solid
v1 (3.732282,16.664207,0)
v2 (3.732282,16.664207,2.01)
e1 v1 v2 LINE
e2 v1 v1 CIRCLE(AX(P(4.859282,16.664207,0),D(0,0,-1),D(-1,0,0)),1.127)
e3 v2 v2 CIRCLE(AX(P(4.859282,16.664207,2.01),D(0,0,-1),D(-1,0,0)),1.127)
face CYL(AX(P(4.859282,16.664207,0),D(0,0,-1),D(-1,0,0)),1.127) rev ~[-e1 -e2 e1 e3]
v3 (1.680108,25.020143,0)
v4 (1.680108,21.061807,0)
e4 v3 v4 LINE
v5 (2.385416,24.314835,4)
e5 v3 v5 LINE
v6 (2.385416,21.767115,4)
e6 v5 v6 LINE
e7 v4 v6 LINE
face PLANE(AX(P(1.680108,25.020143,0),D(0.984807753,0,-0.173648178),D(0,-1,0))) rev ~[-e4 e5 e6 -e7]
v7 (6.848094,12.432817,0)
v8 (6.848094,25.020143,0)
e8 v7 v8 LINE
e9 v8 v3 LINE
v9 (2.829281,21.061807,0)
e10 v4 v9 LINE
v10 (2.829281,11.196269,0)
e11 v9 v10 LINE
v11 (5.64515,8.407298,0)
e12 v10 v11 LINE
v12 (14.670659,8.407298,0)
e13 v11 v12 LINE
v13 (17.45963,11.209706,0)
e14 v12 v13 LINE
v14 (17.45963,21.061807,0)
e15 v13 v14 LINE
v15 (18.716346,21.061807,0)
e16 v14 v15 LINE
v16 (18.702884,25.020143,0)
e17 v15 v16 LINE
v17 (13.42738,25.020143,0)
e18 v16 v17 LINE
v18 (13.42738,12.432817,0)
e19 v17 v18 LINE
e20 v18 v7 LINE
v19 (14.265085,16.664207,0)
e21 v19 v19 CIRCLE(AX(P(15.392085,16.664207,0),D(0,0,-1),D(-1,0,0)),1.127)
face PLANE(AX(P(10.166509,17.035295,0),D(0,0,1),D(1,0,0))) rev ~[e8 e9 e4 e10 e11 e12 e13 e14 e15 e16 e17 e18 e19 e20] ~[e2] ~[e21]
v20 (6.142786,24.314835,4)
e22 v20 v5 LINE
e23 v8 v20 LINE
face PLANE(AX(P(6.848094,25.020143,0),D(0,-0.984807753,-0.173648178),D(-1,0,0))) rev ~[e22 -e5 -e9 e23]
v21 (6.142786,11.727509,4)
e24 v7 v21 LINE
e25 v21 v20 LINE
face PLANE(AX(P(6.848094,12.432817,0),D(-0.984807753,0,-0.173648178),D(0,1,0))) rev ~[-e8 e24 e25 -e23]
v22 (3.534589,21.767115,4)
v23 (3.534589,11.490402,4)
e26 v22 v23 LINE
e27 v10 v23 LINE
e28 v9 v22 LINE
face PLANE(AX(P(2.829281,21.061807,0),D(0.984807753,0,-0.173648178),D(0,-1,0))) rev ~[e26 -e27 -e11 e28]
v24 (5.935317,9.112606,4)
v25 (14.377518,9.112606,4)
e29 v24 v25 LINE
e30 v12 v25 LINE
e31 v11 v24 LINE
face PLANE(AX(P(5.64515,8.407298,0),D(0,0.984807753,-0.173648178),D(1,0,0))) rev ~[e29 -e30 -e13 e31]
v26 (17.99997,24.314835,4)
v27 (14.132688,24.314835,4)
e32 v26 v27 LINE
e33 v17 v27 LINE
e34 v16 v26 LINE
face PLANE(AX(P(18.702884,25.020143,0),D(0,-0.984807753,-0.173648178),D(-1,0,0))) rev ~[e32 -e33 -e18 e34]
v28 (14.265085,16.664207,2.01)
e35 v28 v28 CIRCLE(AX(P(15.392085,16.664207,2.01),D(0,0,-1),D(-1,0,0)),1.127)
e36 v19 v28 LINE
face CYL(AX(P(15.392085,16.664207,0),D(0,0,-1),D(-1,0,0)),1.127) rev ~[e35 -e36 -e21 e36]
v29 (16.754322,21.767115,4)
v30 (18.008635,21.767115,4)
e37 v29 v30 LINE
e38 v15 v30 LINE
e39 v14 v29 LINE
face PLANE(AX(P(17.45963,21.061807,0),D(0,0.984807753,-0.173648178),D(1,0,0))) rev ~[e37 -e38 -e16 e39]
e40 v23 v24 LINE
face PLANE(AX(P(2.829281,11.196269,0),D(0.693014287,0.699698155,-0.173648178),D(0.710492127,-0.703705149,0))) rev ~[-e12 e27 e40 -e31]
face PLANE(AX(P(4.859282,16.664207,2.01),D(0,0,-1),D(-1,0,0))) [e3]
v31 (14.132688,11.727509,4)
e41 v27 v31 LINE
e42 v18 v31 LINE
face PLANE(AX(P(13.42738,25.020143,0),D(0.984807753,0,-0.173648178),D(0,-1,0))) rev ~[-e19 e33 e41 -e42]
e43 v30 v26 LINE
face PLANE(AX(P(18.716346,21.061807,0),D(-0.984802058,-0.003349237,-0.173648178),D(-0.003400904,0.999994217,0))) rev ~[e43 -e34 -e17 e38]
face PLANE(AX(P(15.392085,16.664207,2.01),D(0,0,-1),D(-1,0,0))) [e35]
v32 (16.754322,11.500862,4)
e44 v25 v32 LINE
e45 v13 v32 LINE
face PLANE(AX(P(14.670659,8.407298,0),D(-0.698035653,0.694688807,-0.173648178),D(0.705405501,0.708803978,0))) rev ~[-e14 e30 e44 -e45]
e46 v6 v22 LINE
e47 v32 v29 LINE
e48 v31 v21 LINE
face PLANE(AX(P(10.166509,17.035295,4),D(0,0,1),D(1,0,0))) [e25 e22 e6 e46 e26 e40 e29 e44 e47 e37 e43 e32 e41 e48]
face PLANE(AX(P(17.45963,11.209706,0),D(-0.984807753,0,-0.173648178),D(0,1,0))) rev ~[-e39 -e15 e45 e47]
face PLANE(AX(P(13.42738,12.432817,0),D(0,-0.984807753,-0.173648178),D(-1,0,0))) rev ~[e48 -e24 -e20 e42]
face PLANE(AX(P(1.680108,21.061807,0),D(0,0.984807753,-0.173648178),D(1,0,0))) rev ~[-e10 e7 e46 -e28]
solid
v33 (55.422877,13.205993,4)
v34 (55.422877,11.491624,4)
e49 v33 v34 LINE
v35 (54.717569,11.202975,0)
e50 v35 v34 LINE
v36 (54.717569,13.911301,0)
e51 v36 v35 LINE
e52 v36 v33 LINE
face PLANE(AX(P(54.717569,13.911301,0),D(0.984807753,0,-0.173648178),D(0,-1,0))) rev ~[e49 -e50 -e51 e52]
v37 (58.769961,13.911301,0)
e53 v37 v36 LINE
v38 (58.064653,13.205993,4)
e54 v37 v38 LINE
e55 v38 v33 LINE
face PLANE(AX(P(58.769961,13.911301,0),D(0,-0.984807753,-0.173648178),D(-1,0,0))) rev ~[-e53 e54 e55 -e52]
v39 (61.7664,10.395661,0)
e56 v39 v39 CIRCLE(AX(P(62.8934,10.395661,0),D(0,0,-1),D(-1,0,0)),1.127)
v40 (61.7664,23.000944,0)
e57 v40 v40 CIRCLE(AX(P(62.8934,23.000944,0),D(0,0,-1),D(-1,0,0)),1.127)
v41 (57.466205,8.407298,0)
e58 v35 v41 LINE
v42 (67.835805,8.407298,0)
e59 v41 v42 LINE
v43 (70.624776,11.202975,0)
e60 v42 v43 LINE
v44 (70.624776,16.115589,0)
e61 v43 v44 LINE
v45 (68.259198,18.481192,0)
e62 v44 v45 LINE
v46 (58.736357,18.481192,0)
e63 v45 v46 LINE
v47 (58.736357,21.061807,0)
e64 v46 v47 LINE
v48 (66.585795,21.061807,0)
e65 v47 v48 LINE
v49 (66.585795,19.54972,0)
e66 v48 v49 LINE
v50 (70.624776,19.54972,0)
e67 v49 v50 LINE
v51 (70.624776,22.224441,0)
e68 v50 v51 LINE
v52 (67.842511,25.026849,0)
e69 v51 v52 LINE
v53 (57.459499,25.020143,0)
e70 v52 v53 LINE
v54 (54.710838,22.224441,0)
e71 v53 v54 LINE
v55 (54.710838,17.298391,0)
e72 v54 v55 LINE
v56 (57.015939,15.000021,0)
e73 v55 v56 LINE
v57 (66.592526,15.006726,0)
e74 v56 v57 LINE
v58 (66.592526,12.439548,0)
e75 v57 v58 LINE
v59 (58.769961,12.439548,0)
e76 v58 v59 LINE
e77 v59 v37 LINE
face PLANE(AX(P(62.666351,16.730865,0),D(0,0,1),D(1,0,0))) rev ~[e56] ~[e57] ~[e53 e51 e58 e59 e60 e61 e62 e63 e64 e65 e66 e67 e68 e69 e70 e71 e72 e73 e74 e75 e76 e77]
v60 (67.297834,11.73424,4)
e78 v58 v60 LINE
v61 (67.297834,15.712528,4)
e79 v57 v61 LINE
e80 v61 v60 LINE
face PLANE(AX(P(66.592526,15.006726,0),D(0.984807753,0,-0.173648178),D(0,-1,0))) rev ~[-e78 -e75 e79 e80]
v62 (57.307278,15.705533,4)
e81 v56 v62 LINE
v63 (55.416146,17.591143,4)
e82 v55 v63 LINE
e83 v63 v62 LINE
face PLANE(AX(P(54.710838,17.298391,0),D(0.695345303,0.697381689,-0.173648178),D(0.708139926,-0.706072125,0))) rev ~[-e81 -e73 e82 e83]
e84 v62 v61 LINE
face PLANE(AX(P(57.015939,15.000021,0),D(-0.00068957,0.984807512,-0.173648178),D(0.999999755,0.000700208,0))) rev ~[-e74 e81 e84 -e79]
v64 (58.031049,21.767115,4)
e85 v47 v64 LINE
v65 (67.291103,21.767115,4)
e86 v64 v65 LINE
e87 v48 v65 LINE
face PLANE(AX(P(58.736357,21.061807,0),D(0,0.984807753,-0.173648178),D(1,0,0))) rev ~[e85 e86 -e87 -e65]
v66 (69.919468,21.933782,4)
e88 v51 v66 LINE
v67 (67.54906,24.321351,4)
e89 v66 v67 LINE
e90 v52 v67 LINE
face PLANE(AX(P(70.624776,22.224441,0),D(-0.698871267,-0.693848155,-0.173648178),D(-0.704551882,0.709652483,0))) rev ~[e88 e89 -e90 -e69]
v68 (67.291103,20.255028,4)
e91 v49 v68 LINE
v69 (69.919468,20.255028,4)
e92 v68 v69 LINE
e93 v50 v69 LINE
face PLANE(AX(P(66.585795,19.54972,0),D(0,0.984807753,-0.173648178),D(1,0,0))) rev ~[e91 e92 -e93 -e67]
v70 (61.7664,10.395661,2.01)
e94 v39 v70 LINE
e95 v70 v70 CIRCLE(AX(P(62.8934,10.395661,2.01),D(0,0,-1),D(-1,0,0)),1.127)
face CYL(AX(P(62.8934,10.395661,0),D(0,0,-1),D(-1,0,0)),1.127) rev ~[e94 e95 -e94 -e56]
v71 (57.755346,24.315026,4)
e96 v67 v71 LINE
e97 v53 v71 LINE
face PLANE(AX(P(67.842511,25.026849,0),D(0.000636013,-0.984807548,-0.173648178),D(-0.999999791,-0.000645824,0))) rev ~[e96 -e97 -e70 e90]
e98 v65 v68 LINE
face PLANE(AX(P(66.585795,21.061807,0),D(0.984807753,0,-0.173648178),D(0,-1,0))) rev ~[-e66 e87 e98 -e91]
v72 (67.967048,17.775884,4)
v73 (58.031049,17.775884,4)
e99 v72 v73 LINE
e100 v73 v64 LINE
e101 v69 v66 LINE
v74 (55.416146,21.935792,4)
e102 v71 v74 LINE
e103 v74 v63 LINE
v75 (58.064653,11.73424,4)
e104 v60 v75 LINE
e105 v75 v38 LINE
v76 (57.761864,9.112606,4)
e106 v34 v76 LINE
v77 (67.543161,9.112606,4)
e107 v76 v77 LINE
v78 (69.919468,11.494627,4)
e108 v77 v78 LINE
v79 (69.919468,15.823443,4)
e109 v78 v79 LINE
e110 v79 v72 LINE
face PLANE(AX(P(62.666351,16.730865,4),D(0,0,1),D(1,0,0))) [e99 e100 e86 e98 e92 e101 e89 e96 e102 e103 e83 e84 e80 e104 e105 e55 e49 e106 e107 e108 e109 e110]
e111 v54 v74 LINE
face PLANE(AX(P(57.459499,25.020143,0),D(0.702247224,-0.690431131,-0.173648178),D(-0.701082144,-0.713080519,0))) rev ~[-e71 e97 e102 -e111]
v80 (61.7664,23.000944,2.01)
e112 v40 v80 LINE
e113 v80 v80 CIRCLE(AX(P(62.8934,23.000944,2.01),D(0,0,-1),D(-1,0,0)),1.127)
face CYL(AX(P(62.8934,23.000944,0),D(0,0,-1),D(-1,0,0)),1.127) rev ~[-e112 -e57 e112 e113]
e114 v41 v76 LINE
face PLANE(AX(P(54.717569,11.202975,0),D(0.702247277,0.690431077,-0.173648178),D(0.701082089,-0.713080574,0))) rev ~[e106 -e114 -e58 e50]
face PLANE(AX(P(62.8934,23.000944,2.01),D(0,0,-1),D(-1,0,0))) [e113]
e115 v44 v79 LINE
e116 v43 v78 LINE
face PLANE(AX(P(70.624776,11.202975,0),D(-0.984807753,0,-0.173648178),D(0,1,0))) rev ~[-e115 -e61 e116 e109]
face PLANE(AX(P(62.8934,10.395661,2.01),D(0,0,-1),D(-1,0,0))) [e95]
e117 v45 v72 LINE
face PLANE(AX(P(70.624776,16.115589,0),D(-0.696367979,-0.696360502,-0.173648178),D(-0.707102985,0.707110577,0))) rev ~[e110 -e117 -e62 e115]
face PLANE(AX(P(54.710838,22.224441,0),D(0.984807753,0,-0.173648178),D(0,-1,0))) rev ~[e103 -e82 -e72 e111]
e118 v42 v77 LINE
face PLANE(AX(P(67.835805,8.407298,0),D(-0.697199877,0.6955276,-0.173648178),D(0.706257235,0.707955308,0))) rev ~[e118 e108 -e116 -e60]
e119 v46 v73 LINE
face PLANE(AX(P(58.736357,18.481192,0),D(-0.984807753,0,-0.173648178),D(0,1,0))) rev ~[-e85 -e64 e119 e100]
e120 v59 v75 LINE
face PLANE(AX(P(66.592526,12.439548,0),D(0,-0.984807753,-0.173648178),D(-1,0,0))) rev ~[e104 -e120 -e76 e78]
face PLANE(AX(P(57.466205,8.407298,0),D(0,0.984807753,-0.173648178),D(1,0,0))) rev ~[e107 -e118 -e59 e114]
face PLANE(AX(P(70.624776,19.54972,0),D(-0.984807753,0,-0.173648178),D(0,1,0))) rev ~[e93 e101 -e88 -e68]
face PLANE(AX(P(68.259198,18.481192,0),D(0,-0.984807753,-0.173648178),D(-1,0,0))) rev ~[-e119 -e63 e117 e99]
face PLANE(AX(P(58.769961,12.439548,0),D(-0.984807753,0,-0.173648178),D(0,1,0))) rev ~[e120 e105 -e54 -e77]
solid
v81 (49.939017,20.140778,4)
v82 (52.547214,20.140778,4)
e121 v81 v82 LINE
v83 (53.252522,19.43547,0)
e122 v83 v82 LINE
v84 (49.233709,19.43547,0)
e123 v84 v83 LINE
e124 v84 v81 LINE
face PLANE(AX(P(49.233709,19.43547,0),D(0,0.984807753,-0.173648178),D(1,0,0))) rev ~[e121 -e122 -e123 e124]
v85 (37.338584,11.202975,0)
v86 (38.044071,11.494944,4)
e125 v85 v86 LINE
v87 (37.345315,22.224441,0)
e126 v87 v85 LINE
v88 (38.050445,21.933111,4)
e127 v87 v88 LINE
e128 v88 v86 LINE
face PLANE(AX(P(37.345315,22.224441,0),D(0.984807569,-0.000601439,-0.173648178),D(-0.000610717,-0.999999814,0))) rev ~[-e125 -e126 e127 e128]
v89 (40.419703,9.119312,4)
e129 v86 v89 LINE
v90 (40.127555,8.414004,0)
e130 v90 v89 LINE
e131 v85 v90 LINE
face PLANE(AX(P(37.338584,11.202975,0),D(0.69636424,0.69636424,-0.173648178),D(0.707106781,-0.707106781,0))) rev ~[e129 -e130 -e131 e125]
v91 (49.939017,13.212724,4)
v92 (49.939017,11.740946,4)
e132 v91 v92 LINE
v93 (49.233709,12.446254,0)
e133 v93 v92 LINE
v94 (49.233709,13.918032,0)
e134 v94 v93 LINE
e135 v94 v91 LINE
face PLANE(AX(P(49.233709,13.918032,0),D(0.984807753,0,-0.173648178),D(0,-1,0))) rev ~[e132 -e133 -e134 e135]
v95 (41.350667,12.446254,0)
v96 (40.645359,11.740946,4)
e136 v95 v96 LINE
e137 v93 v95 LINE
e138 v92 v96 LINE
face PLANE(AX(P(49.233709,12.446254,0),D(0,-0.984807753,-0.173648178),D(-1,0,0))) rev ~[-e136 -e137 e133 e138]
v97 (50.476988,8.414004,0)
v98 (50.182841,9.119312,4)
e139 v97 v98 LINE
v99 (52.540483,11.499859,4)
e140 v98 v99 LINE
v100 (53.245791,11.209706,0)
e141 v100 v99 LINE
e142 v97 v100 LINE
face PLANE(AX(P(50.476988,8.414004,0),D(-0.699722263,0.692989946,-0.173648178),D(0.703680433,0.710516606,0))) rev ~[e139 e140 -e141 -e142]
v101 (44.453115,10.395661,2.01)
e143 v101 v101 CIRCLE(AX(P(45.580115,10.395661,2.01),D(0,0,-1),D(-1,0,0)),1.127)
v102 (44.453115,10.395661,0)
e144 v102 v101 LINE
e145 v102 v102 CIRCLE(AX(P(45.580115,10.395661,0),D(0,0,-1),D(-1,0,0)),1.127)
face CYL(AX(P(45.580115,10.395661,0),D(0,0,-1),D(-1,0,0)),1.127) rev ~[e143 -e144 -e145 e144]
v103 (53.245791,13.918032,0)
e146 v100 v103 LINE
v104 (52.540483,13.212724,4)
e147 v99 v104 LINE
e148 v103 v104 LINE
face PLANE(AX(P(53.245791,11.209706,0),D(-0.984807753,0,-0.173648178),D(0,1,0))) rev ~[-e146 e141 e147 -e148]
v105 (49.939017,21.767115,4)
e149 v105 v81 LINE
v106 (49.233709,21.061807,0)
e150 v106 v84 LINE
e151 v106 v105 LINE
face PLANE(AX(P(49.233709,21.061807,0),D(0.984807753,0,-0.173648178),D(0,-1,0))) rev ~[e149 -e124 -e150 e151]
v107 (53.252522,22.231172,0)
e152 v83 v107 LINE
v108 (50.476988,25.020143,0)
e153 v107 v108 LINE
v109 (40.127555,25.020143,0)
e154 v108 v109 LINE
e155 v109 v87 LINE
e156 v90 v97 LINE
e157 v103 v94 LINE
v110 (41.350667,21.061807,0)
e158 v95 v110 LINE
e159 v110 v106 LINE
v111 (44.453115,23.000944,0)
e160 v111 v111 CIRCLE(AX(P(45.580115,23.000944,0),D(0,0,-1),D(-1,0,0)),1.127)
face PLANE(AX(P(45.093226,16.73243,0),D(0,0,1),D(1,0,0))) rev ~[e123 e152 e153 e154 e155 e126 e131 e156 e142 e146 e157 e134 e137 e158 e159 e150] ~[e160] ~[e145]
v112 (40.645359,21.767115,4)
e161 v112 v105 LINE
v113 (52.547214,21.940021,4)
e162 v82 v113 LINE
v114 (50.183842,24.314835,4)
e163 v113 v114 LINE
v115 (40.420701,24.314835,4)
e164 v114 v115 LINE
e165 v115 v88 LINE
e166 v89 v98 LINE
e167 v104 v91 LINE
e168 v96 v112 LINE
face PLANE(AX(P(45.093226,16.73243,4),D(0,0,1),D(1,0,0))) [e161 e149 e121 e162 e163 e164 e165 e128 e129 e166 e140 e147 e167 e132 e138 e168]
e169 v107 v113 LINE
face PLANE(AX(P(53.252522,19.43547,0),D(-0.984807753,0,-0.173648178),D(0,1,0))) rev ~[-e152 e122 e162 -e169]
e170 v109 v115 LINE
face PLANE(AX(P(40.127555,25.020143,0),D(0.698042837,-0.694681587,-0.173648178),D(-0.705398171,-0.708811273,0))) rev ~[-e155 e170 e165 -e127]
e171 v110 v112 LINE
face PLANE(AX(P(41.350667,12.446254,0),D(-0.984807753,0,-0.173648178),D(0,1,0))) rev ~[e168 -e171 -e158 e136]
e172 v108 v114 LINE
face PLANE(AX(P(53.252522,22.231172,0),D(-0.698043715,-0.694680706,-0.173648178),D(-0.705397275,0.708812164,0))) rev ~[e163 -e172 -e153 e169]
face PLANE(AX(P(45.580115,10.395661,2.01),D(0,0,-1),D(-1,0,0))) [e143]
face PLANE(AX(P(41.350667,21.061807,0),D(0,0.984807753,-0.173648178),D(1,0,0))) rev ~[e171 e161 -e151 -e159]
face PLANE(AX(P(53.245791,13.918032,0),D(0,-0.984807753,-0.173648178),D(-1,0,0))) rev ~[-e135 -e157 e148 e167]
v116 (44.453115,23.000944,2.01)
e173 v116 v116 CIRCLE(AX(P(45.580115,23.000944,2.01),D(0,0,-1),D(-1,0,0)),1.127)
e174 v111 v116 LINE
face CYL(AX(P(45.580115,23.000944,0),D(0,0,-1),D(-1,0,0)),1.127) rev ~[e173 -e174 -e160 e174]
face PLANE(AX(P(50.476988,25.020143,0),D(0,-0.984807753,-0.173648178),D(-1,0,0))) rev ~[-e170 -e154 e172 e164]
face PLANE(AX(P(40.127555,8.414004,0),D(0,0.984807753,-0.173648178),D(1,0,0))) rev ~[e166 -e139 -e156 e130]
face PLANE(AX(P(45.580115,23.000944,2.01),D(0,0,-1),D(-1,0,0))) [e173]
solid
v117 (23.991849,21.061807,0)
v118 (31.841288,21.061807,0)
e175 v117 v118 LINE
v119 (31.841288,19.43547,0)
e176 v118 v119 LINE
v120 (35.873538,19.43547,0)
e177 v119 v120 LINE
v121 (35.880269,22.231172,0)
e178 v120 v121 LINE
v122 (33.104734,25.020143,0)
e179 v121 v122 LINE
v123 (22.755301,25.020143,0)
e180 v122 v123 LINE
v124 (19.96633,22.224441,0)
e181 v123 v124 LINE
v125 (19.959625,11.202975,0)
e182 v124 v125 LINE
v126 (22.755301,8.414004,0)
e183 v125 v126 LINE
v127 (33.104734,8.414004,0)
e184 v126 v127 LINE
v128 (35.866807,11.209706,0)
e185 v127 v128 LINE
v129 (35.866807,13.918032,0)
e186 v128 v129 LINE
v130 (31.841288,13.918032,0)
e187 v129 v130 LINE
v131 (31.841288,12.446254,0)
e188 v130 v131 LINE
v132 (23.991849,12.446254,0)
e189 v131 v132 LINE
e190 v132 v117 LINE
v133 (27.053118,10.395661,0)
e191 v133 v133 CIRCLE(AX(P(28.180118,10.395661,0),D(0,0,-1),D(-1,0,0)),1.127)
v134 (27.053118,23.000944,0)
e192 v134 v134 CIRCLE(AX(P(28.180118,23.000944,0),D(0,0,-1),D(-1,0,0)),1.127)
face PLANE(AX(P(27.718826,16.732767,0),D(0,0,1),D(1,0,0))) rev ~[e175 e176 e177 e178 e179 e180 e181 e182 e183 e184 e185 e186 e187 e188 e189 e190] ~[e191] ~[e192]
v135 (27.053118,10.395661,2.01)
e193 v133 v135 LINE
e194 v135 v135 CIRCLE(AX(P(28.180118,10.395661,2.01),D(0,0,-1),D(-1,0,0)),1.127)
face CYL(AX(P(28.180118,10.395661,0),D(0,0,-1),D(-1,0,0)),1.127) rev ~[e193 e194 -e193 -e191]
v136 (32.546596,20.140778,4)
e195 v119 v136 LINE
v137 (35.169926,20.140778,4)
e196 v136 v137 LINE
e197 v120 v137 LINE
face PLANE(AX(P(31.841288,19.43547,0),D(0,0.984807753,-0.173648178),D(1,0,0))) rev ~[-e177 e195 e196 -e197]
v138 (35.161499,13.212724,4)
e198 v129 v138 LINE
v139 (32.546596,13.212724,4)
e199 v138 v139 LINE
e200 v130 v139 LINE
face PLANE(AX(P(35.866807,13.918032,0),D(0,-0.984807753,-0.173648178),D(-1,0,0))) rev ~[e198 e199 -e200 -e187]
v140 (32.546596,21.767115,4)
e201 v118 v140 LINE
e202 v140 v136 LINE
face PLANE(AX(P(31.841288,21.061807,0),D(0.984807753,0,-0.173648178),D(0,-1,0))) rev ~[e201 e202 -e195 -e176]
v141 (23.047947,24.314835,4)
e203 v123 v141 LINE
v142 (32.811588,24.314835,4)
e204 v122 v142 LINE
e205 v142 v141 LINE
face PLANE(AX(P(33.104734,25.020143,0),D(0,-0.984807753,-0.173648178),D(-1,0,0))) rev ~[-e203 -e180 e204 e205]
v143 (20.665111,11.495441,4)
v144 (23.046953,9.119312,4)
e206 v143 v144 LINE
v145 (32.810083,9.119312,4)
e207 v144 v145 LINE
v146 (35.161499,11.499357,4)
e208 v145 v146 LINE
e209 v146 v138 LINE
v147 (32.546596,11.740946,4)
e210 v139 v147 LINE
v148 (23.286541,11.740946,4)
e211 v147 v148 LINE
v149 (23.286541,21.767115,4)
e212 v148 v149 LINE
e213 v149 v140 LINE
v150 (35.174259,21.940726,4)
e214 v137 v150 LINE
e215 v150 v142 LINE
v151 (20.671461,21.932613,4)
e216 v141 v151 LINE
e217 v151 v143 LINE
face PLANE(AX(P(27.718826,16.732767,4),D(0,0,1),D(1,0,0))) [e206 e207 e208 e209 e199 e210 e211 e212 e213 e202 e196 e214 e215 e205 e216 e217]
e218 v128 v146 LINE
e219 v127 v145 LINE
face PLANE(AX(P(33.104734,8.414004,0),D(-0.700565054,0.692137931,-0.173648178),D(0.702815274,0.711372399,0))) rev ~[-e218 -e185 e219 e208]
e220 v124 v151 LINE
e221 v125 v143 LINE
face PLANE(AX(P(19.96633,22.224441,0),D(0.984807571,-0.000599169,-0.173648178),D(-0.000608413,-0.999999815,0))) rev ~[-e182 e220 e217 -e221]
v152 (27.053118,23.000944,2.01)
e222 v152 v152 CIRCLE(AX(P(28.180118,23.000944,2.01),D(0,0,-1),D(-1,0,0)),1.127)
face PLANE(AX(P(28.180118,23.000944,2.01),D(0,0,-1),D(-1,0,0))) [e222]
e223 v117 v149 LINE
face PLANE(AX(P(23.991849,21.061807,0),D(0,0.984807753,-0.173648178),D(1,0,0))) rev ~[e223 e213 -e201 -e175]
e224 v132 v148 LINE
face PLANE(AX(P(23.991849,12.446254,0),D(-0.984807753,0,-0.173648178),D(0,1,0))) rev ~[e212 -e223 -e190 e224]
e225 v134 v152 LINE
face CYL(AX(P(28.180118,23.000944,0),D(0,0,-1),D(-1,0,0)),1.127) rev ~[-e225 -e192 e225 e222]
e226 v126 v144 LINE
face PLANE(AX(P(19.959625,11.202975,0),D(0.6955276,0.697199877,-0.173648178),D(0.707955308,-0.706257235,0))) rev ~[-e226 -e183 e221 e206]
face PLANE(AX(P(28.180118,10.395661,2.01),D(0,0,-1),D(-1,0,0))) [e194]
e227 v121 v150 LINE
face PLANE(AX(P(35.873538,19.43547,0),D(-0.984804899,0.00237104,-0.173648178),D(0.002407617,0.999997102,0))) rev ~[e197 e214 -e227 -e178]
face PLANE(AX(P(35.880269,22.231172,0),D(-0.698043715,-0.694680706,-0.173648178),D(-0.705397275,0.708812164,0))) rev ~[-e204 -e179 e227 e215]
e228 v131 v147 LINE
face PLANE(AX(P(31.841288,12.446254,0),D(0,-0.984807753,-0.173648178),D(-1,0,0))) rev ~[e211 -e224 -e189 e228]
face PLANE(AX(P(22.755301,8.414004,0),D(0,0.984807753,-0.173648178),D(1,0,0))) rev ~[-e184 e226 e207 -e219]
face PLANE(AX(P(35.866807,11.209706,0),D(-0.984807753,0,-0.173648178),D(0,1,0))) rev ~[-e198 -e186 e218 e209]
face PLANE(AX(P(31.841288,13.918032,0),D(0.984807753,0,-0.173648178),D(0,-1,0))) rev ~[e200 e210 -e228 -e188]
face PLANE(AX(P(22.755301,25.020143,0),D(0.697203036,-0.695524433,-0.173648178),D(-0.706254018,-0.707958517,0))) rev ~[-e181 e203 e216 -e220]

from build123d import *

# Parameters (mm, degrees)
BOSS_EXTRUDE1_DEPTH           = 4
BOSS_EXTRUDE1_DRAFT           = 10
BOSS_EXTRUDE1_PROFILE_2_DEPTH = 4
BOSS_EXTRUDE1_PROFILE_2_DRAFT = 10
BOSS_EXTRUDE1_PROFILE_3_DEPTH = 4
BOSS_EXTRUDE1_PROFILE_3_DRAFT = 10
BOSS_EXTRUDE1_PROFILE_4_DEPTH = 4
BOSS_EXTRUDE1_PROFILE_4_DRAFT = 10
SKETCH5_R                     = 1.127
CUT_EXTRUDE1_DEPTH            = 2.01


with BuildPart() as part:
    # Sketch2 → Boss-Extrude1 (with draft: the straight prism first)
    with BuildSketch(Plane.XY):
        Polygon((67.842511, 25.0268486), (57.459499, 25.020143), (54.710838, 22.2244412), (54.710838, 17.2983906), (57.0159388, 15.0000208), (66.5925262, 15.0067264), (66.5925262, 12.4395484), (58.7699612, 12.4395484), (58.7699612, 13.9113006), (54.717569, 13.9113006), (54.717569, 11.2029748), (57.4662046, 8.4072984), (67.8358054, 8.4072984), (70.6247762, 11.2029748), (70.6247762, 16.1155888), (68.259198, 18.4811924), (58.736357, 18.4811924), (58.736357, 21.061807), (66.5857952, 21.061807), (66.5857952, 19.5497196), (70.6247762, 19.5497196), (70.6247762, 22.2244412), align=None)
    extrude(amount=BOSS_EXTRUDE1_DEPTH)
    # Boss-Extrude1: the draft: its side faces are tilted about the plane it starts from
    boss_extrude1_sides = [part.faces().sort_by_distance(p)[0] for p in [
        (62.651005, 25.0234958, 2),
        (56.0851685, 23.6222921, 2),
        (54.710838, 19.7614159, 2),
        (55.8633884, 16.1492057, 2),
        (61.8042325, 15.0033736, 2),
        (66.5925262, 13.7231374, 2),
        (62.6812437, 12.4395484, 2),
        (58.7699612, 13.1754245, 2),
        (56.7437651, 13.9113006, 2),
        (54.717569, 12.5571377, 2),
        (56.0918868, 9.8051366, 2),
        (62.651005, 8.4072984, 2),
        (69.2302908, 9.8051366, 2),
        (70.6247762, 13.6592818, 2),
        (69.4419871, 17.2983906, 2),
        (63.4977775, 18.4811924, 2),
        (58.736357, 19.7714997, 2),
        (62.6610761, 21.061807, 2),
        (66.5857952, 20.3057633, 2),
        (68.6052857, 19.5497196, 2),
        (70.6247762, 20.8870804, 2),
        (69.2336436, 23.6256449, 2),
    ]]
    draft(boss_extrude1_sides, Plane.XY, BOSS_EXTRUDE1_DRAFT)


with BuildPart() as body_2:
    # Sketch2 → Boss-Extrude1 profile 2 (with draft: the straight prism first)
    with BuildSketch(Plane.XY):
        Polygon((50.4769882, 25.020143), (40.127555, 25.020143), (37.3453152, 22.2244412), (37.3385842, 11.2029748), (40.127555, 8.414004), (50.4769882, 8.414004), (53.2457914, 11.2097058), (53.2457914, 13.9180316), (49.233709, 13.9180316), (49.233709, 12.446254), (41.3506666, 12.446254), (41.3506666, 21.061807), (49.233709, 21.061807), (49.233709, 19.4354704), (53.2525224, 19.4354704), (53.2525224, 22.2311722), align=None)
    extrude(amount=BOSS_EXTRUDE1_PROFILE_2_DEPTH)
    # Boss-Extrude1 profile 2: the draft: its side faces are tilted about the plane it starts from
    boss_extrude1_profile_2_sides = [body_2.faces().sort_by_distance(p)[0] for p in [
        (45.3022716, 25.020143, 2),
        (38.7364351, 23.6222921, 2),
        (37.3419497, 16.713708, 2),
        (38.7330696, 9.8084894, 2),
        (45.3022716, 8.414004, 2),
        (51.8613898, 9.8118549, 2),
        (53.2457914, 12.5638687, 2),
        (51.2397502, 13.9180316, 2),
        (49.233709, 13.1821428, 2),
        (45.2921878, 12.446254, 2),
        (41.3506666, 16.7540305, 2),
        (45.2921878, 21.061807, 2),
        (49.233709, 20.2486387, 2),
        (51.2431157, 19.4354704, 2),
        (53.2525224, 20.8333213, 2),
        (51.8647553, 23.6256576, 2),
    ]]
    draft(boss_extrude1_profile_2_sides, Plane.XY, BOSS_EXTRUDE1_PROFILE_2_DRAFT)


with BuildPart() as body_3:
    # Sketch2 → Boss-Extrude1 profile 3 (with draft: the straight prism first)
    with BuildSketch(Plane.XY):
        Polygon((33.1047344, 25.020143), (22.7553012, 25.020143), (19.9663304, 22.2244412), (19.9596248, 11.2029748), (22.7553012, 8.414004), (33.1047344, 8.414004), (35.8668066, 11.2097058), (35.8668066, 13.9180316), (31.8412876, 13.9180316), (31.8412876, 12.446254), (23.9918494, 12.446254), (23.9918494, 21.061807), (31.8412876, 21.061807), (31.8412876, 19.4354704), (35.8735376, 19.4354704), (35.8802686, 22.2311722), align=None)
    extrude(amount=BOSS_EXTRUDE1_PROFILE_3_DEPTH)
    # Boss-Extrude1 profile 3: the draft: its side faces are tilted about the plane it starts from
    boss_extrude1_profile_3_sides = [body_3.faces().sort_by_distance(p)[0] for p in [
        (27.9300178, 25.020143, 2),
        (21.3608158, 23.6222921, 2),
        (19.9629776, 16.713708, 2),
        (21.357463, 9.8084894, 2),
        (27.9300178, 8.414004, 2),
        (34.4857705, 9.8118549, 2),
        (35.8668066, 12.5638687, 2),
        (33.8540471, 13.9180316, 2),
        (31.8412876, 13.1821428, 2),
        (27.9165685, 12.446254, 2),
        (23.9918494, 16.7540305, 2),
        (27.9165685, 21.061807, 2),
        (31.8412876, 20.2486387, 2),
        (33.8574126, 19.4354704, 2),
        (35.8769031, 20.8333213, 2),
        (34.4925015, 23.6256576, 2),
    ]]
    draft(boss_extrude1_profile_3_sides, Plane.XY, BOSS_EXTRUDE1_PROFILE_3_DRAFT)


with BuildPart() as body_4:
    # Sketch2 → Boss-Extrude1 profile 4 (with draft: the straight prism first)
    with BuildSketch(Plane.XY):
        Polygon((18.7028836, 25.020143), (13.4273798, 25.020143), (13.4273798, 12.4328174), (6.848094, 12.4328174), (6.848094, 25.020143), (1.6801084, 25.020143), (1.6801084, 21.061807), (2.8292806, 21.061807), (2.8292806, 11.1962692), (5.64515, 8.4072984), (14.670659, 8.4072984), (17.4596298, 11.2097058), (17.4596298, 21.061807), (18.7163456, 21.061807), align=None)
    extrude(amount=BOSS_EXTRUDE1_PROFILE_4_DEPTH)
    # Boss-Extrude1 profile 4: the draft: its side faces are tilted about the plane it starts from
    boss_extrude1_profile_4_sides = [body_4.faces().sort_by_distance(p)[0] for p in [
        (16.0651317, 25.020143, 2),
        (13.4273798, 18.7264802, 2),
        (10.1377369, 12.4328174, 2),
        (6.848094, 18.7264802, 2),
        (4.2641012, 25.020143, 2),
        (1.6801084, 23.040975, 2),
        (2.2546945, 21.061807, 2),
        (2.8292806, 16.1290381, 2),
        (4.2372153, 9.8017838, 2),
        (10.1579045, 8.4072984, 2),
        (16.0651444, 9.8085021, 2),
        (17.4596298, 16.1357564, 2),
        (18.0879877, 21.061807, 2),
        (18.7096146, 23.040975, 2),
    ]]
    draft(boss_extrude1_profile_4_sides, Plane.XY, BOSS_EXTRUDE1_PROFILE_4_DRAFT)


with BuildPart() as cut_extrude1_tool:
    # Sketch5 → Cut-Extrude1 (new body)
    with BuildSketch(Plane(origin=(0, 0, 0), x_dir=(-1, 0, 0), z_dir=(0, 0, -1))):
        with Locations((-62.893400367, 23.000943998)):
            Circle(SKETCH5_R)
        with Locations((-62.893400367, 10.395661235)):
            Circle(SKETCH5_R)
        with Locations((-45.580114566, 10.395661235)):
            Circle(SKETCH5_R)
        with Locations((-45.580114566, 23.000943998)):
            Circle(SKETCH5_R)
        with Locations((-28.180118275, 10.395661235)):
            Circle(SKETCH5_R)
        with Locations((-28.180118275, 23.000943998)):
            Circle(SKETCH5_R)
        with Locations((-15.392085226, 16.664206801)):
            Circle(SKETCH5_R)
        with Locations((-4.859282247, 16.664206801)):
            Circle(SKETCH5_R)
    extrude(amount=-CUT_EXTRUDE1_DEPTH)


with BuildPart() as part_1:
    add(part.part)

    # Cut-Extrude1: cut by cut_extrude1_tool
    add(cut_extrude1_tool.part, mode=Mode.SUBTRACT)


with BuildPart() as body_2_1:
    add(body_2.part)

    # Cut-Extrude1: cut by cut_extrude1_tool
    add(cut_extrude1_tool.part, mode=Mode.SUBTRACT)


with BuildPart() as body_3_1:
    add(body_3.part)

    # Cut-Extrude1: cut by cut_extrude1_tool
    add(cut_extrude1_tool.part, mode=Mode.SUBTRACT)


with BuildPart() as body_4_1:
    add(body_4.part)

    # Cut-Extrude1: cut by cut_extrude1_tool
    add(cut_extrude1_tool.part, mode=Mode.SUBTRACT)


solid = Compound([part_1.part, body_2_1.part, body_3_1.part, body_4_1.part])
